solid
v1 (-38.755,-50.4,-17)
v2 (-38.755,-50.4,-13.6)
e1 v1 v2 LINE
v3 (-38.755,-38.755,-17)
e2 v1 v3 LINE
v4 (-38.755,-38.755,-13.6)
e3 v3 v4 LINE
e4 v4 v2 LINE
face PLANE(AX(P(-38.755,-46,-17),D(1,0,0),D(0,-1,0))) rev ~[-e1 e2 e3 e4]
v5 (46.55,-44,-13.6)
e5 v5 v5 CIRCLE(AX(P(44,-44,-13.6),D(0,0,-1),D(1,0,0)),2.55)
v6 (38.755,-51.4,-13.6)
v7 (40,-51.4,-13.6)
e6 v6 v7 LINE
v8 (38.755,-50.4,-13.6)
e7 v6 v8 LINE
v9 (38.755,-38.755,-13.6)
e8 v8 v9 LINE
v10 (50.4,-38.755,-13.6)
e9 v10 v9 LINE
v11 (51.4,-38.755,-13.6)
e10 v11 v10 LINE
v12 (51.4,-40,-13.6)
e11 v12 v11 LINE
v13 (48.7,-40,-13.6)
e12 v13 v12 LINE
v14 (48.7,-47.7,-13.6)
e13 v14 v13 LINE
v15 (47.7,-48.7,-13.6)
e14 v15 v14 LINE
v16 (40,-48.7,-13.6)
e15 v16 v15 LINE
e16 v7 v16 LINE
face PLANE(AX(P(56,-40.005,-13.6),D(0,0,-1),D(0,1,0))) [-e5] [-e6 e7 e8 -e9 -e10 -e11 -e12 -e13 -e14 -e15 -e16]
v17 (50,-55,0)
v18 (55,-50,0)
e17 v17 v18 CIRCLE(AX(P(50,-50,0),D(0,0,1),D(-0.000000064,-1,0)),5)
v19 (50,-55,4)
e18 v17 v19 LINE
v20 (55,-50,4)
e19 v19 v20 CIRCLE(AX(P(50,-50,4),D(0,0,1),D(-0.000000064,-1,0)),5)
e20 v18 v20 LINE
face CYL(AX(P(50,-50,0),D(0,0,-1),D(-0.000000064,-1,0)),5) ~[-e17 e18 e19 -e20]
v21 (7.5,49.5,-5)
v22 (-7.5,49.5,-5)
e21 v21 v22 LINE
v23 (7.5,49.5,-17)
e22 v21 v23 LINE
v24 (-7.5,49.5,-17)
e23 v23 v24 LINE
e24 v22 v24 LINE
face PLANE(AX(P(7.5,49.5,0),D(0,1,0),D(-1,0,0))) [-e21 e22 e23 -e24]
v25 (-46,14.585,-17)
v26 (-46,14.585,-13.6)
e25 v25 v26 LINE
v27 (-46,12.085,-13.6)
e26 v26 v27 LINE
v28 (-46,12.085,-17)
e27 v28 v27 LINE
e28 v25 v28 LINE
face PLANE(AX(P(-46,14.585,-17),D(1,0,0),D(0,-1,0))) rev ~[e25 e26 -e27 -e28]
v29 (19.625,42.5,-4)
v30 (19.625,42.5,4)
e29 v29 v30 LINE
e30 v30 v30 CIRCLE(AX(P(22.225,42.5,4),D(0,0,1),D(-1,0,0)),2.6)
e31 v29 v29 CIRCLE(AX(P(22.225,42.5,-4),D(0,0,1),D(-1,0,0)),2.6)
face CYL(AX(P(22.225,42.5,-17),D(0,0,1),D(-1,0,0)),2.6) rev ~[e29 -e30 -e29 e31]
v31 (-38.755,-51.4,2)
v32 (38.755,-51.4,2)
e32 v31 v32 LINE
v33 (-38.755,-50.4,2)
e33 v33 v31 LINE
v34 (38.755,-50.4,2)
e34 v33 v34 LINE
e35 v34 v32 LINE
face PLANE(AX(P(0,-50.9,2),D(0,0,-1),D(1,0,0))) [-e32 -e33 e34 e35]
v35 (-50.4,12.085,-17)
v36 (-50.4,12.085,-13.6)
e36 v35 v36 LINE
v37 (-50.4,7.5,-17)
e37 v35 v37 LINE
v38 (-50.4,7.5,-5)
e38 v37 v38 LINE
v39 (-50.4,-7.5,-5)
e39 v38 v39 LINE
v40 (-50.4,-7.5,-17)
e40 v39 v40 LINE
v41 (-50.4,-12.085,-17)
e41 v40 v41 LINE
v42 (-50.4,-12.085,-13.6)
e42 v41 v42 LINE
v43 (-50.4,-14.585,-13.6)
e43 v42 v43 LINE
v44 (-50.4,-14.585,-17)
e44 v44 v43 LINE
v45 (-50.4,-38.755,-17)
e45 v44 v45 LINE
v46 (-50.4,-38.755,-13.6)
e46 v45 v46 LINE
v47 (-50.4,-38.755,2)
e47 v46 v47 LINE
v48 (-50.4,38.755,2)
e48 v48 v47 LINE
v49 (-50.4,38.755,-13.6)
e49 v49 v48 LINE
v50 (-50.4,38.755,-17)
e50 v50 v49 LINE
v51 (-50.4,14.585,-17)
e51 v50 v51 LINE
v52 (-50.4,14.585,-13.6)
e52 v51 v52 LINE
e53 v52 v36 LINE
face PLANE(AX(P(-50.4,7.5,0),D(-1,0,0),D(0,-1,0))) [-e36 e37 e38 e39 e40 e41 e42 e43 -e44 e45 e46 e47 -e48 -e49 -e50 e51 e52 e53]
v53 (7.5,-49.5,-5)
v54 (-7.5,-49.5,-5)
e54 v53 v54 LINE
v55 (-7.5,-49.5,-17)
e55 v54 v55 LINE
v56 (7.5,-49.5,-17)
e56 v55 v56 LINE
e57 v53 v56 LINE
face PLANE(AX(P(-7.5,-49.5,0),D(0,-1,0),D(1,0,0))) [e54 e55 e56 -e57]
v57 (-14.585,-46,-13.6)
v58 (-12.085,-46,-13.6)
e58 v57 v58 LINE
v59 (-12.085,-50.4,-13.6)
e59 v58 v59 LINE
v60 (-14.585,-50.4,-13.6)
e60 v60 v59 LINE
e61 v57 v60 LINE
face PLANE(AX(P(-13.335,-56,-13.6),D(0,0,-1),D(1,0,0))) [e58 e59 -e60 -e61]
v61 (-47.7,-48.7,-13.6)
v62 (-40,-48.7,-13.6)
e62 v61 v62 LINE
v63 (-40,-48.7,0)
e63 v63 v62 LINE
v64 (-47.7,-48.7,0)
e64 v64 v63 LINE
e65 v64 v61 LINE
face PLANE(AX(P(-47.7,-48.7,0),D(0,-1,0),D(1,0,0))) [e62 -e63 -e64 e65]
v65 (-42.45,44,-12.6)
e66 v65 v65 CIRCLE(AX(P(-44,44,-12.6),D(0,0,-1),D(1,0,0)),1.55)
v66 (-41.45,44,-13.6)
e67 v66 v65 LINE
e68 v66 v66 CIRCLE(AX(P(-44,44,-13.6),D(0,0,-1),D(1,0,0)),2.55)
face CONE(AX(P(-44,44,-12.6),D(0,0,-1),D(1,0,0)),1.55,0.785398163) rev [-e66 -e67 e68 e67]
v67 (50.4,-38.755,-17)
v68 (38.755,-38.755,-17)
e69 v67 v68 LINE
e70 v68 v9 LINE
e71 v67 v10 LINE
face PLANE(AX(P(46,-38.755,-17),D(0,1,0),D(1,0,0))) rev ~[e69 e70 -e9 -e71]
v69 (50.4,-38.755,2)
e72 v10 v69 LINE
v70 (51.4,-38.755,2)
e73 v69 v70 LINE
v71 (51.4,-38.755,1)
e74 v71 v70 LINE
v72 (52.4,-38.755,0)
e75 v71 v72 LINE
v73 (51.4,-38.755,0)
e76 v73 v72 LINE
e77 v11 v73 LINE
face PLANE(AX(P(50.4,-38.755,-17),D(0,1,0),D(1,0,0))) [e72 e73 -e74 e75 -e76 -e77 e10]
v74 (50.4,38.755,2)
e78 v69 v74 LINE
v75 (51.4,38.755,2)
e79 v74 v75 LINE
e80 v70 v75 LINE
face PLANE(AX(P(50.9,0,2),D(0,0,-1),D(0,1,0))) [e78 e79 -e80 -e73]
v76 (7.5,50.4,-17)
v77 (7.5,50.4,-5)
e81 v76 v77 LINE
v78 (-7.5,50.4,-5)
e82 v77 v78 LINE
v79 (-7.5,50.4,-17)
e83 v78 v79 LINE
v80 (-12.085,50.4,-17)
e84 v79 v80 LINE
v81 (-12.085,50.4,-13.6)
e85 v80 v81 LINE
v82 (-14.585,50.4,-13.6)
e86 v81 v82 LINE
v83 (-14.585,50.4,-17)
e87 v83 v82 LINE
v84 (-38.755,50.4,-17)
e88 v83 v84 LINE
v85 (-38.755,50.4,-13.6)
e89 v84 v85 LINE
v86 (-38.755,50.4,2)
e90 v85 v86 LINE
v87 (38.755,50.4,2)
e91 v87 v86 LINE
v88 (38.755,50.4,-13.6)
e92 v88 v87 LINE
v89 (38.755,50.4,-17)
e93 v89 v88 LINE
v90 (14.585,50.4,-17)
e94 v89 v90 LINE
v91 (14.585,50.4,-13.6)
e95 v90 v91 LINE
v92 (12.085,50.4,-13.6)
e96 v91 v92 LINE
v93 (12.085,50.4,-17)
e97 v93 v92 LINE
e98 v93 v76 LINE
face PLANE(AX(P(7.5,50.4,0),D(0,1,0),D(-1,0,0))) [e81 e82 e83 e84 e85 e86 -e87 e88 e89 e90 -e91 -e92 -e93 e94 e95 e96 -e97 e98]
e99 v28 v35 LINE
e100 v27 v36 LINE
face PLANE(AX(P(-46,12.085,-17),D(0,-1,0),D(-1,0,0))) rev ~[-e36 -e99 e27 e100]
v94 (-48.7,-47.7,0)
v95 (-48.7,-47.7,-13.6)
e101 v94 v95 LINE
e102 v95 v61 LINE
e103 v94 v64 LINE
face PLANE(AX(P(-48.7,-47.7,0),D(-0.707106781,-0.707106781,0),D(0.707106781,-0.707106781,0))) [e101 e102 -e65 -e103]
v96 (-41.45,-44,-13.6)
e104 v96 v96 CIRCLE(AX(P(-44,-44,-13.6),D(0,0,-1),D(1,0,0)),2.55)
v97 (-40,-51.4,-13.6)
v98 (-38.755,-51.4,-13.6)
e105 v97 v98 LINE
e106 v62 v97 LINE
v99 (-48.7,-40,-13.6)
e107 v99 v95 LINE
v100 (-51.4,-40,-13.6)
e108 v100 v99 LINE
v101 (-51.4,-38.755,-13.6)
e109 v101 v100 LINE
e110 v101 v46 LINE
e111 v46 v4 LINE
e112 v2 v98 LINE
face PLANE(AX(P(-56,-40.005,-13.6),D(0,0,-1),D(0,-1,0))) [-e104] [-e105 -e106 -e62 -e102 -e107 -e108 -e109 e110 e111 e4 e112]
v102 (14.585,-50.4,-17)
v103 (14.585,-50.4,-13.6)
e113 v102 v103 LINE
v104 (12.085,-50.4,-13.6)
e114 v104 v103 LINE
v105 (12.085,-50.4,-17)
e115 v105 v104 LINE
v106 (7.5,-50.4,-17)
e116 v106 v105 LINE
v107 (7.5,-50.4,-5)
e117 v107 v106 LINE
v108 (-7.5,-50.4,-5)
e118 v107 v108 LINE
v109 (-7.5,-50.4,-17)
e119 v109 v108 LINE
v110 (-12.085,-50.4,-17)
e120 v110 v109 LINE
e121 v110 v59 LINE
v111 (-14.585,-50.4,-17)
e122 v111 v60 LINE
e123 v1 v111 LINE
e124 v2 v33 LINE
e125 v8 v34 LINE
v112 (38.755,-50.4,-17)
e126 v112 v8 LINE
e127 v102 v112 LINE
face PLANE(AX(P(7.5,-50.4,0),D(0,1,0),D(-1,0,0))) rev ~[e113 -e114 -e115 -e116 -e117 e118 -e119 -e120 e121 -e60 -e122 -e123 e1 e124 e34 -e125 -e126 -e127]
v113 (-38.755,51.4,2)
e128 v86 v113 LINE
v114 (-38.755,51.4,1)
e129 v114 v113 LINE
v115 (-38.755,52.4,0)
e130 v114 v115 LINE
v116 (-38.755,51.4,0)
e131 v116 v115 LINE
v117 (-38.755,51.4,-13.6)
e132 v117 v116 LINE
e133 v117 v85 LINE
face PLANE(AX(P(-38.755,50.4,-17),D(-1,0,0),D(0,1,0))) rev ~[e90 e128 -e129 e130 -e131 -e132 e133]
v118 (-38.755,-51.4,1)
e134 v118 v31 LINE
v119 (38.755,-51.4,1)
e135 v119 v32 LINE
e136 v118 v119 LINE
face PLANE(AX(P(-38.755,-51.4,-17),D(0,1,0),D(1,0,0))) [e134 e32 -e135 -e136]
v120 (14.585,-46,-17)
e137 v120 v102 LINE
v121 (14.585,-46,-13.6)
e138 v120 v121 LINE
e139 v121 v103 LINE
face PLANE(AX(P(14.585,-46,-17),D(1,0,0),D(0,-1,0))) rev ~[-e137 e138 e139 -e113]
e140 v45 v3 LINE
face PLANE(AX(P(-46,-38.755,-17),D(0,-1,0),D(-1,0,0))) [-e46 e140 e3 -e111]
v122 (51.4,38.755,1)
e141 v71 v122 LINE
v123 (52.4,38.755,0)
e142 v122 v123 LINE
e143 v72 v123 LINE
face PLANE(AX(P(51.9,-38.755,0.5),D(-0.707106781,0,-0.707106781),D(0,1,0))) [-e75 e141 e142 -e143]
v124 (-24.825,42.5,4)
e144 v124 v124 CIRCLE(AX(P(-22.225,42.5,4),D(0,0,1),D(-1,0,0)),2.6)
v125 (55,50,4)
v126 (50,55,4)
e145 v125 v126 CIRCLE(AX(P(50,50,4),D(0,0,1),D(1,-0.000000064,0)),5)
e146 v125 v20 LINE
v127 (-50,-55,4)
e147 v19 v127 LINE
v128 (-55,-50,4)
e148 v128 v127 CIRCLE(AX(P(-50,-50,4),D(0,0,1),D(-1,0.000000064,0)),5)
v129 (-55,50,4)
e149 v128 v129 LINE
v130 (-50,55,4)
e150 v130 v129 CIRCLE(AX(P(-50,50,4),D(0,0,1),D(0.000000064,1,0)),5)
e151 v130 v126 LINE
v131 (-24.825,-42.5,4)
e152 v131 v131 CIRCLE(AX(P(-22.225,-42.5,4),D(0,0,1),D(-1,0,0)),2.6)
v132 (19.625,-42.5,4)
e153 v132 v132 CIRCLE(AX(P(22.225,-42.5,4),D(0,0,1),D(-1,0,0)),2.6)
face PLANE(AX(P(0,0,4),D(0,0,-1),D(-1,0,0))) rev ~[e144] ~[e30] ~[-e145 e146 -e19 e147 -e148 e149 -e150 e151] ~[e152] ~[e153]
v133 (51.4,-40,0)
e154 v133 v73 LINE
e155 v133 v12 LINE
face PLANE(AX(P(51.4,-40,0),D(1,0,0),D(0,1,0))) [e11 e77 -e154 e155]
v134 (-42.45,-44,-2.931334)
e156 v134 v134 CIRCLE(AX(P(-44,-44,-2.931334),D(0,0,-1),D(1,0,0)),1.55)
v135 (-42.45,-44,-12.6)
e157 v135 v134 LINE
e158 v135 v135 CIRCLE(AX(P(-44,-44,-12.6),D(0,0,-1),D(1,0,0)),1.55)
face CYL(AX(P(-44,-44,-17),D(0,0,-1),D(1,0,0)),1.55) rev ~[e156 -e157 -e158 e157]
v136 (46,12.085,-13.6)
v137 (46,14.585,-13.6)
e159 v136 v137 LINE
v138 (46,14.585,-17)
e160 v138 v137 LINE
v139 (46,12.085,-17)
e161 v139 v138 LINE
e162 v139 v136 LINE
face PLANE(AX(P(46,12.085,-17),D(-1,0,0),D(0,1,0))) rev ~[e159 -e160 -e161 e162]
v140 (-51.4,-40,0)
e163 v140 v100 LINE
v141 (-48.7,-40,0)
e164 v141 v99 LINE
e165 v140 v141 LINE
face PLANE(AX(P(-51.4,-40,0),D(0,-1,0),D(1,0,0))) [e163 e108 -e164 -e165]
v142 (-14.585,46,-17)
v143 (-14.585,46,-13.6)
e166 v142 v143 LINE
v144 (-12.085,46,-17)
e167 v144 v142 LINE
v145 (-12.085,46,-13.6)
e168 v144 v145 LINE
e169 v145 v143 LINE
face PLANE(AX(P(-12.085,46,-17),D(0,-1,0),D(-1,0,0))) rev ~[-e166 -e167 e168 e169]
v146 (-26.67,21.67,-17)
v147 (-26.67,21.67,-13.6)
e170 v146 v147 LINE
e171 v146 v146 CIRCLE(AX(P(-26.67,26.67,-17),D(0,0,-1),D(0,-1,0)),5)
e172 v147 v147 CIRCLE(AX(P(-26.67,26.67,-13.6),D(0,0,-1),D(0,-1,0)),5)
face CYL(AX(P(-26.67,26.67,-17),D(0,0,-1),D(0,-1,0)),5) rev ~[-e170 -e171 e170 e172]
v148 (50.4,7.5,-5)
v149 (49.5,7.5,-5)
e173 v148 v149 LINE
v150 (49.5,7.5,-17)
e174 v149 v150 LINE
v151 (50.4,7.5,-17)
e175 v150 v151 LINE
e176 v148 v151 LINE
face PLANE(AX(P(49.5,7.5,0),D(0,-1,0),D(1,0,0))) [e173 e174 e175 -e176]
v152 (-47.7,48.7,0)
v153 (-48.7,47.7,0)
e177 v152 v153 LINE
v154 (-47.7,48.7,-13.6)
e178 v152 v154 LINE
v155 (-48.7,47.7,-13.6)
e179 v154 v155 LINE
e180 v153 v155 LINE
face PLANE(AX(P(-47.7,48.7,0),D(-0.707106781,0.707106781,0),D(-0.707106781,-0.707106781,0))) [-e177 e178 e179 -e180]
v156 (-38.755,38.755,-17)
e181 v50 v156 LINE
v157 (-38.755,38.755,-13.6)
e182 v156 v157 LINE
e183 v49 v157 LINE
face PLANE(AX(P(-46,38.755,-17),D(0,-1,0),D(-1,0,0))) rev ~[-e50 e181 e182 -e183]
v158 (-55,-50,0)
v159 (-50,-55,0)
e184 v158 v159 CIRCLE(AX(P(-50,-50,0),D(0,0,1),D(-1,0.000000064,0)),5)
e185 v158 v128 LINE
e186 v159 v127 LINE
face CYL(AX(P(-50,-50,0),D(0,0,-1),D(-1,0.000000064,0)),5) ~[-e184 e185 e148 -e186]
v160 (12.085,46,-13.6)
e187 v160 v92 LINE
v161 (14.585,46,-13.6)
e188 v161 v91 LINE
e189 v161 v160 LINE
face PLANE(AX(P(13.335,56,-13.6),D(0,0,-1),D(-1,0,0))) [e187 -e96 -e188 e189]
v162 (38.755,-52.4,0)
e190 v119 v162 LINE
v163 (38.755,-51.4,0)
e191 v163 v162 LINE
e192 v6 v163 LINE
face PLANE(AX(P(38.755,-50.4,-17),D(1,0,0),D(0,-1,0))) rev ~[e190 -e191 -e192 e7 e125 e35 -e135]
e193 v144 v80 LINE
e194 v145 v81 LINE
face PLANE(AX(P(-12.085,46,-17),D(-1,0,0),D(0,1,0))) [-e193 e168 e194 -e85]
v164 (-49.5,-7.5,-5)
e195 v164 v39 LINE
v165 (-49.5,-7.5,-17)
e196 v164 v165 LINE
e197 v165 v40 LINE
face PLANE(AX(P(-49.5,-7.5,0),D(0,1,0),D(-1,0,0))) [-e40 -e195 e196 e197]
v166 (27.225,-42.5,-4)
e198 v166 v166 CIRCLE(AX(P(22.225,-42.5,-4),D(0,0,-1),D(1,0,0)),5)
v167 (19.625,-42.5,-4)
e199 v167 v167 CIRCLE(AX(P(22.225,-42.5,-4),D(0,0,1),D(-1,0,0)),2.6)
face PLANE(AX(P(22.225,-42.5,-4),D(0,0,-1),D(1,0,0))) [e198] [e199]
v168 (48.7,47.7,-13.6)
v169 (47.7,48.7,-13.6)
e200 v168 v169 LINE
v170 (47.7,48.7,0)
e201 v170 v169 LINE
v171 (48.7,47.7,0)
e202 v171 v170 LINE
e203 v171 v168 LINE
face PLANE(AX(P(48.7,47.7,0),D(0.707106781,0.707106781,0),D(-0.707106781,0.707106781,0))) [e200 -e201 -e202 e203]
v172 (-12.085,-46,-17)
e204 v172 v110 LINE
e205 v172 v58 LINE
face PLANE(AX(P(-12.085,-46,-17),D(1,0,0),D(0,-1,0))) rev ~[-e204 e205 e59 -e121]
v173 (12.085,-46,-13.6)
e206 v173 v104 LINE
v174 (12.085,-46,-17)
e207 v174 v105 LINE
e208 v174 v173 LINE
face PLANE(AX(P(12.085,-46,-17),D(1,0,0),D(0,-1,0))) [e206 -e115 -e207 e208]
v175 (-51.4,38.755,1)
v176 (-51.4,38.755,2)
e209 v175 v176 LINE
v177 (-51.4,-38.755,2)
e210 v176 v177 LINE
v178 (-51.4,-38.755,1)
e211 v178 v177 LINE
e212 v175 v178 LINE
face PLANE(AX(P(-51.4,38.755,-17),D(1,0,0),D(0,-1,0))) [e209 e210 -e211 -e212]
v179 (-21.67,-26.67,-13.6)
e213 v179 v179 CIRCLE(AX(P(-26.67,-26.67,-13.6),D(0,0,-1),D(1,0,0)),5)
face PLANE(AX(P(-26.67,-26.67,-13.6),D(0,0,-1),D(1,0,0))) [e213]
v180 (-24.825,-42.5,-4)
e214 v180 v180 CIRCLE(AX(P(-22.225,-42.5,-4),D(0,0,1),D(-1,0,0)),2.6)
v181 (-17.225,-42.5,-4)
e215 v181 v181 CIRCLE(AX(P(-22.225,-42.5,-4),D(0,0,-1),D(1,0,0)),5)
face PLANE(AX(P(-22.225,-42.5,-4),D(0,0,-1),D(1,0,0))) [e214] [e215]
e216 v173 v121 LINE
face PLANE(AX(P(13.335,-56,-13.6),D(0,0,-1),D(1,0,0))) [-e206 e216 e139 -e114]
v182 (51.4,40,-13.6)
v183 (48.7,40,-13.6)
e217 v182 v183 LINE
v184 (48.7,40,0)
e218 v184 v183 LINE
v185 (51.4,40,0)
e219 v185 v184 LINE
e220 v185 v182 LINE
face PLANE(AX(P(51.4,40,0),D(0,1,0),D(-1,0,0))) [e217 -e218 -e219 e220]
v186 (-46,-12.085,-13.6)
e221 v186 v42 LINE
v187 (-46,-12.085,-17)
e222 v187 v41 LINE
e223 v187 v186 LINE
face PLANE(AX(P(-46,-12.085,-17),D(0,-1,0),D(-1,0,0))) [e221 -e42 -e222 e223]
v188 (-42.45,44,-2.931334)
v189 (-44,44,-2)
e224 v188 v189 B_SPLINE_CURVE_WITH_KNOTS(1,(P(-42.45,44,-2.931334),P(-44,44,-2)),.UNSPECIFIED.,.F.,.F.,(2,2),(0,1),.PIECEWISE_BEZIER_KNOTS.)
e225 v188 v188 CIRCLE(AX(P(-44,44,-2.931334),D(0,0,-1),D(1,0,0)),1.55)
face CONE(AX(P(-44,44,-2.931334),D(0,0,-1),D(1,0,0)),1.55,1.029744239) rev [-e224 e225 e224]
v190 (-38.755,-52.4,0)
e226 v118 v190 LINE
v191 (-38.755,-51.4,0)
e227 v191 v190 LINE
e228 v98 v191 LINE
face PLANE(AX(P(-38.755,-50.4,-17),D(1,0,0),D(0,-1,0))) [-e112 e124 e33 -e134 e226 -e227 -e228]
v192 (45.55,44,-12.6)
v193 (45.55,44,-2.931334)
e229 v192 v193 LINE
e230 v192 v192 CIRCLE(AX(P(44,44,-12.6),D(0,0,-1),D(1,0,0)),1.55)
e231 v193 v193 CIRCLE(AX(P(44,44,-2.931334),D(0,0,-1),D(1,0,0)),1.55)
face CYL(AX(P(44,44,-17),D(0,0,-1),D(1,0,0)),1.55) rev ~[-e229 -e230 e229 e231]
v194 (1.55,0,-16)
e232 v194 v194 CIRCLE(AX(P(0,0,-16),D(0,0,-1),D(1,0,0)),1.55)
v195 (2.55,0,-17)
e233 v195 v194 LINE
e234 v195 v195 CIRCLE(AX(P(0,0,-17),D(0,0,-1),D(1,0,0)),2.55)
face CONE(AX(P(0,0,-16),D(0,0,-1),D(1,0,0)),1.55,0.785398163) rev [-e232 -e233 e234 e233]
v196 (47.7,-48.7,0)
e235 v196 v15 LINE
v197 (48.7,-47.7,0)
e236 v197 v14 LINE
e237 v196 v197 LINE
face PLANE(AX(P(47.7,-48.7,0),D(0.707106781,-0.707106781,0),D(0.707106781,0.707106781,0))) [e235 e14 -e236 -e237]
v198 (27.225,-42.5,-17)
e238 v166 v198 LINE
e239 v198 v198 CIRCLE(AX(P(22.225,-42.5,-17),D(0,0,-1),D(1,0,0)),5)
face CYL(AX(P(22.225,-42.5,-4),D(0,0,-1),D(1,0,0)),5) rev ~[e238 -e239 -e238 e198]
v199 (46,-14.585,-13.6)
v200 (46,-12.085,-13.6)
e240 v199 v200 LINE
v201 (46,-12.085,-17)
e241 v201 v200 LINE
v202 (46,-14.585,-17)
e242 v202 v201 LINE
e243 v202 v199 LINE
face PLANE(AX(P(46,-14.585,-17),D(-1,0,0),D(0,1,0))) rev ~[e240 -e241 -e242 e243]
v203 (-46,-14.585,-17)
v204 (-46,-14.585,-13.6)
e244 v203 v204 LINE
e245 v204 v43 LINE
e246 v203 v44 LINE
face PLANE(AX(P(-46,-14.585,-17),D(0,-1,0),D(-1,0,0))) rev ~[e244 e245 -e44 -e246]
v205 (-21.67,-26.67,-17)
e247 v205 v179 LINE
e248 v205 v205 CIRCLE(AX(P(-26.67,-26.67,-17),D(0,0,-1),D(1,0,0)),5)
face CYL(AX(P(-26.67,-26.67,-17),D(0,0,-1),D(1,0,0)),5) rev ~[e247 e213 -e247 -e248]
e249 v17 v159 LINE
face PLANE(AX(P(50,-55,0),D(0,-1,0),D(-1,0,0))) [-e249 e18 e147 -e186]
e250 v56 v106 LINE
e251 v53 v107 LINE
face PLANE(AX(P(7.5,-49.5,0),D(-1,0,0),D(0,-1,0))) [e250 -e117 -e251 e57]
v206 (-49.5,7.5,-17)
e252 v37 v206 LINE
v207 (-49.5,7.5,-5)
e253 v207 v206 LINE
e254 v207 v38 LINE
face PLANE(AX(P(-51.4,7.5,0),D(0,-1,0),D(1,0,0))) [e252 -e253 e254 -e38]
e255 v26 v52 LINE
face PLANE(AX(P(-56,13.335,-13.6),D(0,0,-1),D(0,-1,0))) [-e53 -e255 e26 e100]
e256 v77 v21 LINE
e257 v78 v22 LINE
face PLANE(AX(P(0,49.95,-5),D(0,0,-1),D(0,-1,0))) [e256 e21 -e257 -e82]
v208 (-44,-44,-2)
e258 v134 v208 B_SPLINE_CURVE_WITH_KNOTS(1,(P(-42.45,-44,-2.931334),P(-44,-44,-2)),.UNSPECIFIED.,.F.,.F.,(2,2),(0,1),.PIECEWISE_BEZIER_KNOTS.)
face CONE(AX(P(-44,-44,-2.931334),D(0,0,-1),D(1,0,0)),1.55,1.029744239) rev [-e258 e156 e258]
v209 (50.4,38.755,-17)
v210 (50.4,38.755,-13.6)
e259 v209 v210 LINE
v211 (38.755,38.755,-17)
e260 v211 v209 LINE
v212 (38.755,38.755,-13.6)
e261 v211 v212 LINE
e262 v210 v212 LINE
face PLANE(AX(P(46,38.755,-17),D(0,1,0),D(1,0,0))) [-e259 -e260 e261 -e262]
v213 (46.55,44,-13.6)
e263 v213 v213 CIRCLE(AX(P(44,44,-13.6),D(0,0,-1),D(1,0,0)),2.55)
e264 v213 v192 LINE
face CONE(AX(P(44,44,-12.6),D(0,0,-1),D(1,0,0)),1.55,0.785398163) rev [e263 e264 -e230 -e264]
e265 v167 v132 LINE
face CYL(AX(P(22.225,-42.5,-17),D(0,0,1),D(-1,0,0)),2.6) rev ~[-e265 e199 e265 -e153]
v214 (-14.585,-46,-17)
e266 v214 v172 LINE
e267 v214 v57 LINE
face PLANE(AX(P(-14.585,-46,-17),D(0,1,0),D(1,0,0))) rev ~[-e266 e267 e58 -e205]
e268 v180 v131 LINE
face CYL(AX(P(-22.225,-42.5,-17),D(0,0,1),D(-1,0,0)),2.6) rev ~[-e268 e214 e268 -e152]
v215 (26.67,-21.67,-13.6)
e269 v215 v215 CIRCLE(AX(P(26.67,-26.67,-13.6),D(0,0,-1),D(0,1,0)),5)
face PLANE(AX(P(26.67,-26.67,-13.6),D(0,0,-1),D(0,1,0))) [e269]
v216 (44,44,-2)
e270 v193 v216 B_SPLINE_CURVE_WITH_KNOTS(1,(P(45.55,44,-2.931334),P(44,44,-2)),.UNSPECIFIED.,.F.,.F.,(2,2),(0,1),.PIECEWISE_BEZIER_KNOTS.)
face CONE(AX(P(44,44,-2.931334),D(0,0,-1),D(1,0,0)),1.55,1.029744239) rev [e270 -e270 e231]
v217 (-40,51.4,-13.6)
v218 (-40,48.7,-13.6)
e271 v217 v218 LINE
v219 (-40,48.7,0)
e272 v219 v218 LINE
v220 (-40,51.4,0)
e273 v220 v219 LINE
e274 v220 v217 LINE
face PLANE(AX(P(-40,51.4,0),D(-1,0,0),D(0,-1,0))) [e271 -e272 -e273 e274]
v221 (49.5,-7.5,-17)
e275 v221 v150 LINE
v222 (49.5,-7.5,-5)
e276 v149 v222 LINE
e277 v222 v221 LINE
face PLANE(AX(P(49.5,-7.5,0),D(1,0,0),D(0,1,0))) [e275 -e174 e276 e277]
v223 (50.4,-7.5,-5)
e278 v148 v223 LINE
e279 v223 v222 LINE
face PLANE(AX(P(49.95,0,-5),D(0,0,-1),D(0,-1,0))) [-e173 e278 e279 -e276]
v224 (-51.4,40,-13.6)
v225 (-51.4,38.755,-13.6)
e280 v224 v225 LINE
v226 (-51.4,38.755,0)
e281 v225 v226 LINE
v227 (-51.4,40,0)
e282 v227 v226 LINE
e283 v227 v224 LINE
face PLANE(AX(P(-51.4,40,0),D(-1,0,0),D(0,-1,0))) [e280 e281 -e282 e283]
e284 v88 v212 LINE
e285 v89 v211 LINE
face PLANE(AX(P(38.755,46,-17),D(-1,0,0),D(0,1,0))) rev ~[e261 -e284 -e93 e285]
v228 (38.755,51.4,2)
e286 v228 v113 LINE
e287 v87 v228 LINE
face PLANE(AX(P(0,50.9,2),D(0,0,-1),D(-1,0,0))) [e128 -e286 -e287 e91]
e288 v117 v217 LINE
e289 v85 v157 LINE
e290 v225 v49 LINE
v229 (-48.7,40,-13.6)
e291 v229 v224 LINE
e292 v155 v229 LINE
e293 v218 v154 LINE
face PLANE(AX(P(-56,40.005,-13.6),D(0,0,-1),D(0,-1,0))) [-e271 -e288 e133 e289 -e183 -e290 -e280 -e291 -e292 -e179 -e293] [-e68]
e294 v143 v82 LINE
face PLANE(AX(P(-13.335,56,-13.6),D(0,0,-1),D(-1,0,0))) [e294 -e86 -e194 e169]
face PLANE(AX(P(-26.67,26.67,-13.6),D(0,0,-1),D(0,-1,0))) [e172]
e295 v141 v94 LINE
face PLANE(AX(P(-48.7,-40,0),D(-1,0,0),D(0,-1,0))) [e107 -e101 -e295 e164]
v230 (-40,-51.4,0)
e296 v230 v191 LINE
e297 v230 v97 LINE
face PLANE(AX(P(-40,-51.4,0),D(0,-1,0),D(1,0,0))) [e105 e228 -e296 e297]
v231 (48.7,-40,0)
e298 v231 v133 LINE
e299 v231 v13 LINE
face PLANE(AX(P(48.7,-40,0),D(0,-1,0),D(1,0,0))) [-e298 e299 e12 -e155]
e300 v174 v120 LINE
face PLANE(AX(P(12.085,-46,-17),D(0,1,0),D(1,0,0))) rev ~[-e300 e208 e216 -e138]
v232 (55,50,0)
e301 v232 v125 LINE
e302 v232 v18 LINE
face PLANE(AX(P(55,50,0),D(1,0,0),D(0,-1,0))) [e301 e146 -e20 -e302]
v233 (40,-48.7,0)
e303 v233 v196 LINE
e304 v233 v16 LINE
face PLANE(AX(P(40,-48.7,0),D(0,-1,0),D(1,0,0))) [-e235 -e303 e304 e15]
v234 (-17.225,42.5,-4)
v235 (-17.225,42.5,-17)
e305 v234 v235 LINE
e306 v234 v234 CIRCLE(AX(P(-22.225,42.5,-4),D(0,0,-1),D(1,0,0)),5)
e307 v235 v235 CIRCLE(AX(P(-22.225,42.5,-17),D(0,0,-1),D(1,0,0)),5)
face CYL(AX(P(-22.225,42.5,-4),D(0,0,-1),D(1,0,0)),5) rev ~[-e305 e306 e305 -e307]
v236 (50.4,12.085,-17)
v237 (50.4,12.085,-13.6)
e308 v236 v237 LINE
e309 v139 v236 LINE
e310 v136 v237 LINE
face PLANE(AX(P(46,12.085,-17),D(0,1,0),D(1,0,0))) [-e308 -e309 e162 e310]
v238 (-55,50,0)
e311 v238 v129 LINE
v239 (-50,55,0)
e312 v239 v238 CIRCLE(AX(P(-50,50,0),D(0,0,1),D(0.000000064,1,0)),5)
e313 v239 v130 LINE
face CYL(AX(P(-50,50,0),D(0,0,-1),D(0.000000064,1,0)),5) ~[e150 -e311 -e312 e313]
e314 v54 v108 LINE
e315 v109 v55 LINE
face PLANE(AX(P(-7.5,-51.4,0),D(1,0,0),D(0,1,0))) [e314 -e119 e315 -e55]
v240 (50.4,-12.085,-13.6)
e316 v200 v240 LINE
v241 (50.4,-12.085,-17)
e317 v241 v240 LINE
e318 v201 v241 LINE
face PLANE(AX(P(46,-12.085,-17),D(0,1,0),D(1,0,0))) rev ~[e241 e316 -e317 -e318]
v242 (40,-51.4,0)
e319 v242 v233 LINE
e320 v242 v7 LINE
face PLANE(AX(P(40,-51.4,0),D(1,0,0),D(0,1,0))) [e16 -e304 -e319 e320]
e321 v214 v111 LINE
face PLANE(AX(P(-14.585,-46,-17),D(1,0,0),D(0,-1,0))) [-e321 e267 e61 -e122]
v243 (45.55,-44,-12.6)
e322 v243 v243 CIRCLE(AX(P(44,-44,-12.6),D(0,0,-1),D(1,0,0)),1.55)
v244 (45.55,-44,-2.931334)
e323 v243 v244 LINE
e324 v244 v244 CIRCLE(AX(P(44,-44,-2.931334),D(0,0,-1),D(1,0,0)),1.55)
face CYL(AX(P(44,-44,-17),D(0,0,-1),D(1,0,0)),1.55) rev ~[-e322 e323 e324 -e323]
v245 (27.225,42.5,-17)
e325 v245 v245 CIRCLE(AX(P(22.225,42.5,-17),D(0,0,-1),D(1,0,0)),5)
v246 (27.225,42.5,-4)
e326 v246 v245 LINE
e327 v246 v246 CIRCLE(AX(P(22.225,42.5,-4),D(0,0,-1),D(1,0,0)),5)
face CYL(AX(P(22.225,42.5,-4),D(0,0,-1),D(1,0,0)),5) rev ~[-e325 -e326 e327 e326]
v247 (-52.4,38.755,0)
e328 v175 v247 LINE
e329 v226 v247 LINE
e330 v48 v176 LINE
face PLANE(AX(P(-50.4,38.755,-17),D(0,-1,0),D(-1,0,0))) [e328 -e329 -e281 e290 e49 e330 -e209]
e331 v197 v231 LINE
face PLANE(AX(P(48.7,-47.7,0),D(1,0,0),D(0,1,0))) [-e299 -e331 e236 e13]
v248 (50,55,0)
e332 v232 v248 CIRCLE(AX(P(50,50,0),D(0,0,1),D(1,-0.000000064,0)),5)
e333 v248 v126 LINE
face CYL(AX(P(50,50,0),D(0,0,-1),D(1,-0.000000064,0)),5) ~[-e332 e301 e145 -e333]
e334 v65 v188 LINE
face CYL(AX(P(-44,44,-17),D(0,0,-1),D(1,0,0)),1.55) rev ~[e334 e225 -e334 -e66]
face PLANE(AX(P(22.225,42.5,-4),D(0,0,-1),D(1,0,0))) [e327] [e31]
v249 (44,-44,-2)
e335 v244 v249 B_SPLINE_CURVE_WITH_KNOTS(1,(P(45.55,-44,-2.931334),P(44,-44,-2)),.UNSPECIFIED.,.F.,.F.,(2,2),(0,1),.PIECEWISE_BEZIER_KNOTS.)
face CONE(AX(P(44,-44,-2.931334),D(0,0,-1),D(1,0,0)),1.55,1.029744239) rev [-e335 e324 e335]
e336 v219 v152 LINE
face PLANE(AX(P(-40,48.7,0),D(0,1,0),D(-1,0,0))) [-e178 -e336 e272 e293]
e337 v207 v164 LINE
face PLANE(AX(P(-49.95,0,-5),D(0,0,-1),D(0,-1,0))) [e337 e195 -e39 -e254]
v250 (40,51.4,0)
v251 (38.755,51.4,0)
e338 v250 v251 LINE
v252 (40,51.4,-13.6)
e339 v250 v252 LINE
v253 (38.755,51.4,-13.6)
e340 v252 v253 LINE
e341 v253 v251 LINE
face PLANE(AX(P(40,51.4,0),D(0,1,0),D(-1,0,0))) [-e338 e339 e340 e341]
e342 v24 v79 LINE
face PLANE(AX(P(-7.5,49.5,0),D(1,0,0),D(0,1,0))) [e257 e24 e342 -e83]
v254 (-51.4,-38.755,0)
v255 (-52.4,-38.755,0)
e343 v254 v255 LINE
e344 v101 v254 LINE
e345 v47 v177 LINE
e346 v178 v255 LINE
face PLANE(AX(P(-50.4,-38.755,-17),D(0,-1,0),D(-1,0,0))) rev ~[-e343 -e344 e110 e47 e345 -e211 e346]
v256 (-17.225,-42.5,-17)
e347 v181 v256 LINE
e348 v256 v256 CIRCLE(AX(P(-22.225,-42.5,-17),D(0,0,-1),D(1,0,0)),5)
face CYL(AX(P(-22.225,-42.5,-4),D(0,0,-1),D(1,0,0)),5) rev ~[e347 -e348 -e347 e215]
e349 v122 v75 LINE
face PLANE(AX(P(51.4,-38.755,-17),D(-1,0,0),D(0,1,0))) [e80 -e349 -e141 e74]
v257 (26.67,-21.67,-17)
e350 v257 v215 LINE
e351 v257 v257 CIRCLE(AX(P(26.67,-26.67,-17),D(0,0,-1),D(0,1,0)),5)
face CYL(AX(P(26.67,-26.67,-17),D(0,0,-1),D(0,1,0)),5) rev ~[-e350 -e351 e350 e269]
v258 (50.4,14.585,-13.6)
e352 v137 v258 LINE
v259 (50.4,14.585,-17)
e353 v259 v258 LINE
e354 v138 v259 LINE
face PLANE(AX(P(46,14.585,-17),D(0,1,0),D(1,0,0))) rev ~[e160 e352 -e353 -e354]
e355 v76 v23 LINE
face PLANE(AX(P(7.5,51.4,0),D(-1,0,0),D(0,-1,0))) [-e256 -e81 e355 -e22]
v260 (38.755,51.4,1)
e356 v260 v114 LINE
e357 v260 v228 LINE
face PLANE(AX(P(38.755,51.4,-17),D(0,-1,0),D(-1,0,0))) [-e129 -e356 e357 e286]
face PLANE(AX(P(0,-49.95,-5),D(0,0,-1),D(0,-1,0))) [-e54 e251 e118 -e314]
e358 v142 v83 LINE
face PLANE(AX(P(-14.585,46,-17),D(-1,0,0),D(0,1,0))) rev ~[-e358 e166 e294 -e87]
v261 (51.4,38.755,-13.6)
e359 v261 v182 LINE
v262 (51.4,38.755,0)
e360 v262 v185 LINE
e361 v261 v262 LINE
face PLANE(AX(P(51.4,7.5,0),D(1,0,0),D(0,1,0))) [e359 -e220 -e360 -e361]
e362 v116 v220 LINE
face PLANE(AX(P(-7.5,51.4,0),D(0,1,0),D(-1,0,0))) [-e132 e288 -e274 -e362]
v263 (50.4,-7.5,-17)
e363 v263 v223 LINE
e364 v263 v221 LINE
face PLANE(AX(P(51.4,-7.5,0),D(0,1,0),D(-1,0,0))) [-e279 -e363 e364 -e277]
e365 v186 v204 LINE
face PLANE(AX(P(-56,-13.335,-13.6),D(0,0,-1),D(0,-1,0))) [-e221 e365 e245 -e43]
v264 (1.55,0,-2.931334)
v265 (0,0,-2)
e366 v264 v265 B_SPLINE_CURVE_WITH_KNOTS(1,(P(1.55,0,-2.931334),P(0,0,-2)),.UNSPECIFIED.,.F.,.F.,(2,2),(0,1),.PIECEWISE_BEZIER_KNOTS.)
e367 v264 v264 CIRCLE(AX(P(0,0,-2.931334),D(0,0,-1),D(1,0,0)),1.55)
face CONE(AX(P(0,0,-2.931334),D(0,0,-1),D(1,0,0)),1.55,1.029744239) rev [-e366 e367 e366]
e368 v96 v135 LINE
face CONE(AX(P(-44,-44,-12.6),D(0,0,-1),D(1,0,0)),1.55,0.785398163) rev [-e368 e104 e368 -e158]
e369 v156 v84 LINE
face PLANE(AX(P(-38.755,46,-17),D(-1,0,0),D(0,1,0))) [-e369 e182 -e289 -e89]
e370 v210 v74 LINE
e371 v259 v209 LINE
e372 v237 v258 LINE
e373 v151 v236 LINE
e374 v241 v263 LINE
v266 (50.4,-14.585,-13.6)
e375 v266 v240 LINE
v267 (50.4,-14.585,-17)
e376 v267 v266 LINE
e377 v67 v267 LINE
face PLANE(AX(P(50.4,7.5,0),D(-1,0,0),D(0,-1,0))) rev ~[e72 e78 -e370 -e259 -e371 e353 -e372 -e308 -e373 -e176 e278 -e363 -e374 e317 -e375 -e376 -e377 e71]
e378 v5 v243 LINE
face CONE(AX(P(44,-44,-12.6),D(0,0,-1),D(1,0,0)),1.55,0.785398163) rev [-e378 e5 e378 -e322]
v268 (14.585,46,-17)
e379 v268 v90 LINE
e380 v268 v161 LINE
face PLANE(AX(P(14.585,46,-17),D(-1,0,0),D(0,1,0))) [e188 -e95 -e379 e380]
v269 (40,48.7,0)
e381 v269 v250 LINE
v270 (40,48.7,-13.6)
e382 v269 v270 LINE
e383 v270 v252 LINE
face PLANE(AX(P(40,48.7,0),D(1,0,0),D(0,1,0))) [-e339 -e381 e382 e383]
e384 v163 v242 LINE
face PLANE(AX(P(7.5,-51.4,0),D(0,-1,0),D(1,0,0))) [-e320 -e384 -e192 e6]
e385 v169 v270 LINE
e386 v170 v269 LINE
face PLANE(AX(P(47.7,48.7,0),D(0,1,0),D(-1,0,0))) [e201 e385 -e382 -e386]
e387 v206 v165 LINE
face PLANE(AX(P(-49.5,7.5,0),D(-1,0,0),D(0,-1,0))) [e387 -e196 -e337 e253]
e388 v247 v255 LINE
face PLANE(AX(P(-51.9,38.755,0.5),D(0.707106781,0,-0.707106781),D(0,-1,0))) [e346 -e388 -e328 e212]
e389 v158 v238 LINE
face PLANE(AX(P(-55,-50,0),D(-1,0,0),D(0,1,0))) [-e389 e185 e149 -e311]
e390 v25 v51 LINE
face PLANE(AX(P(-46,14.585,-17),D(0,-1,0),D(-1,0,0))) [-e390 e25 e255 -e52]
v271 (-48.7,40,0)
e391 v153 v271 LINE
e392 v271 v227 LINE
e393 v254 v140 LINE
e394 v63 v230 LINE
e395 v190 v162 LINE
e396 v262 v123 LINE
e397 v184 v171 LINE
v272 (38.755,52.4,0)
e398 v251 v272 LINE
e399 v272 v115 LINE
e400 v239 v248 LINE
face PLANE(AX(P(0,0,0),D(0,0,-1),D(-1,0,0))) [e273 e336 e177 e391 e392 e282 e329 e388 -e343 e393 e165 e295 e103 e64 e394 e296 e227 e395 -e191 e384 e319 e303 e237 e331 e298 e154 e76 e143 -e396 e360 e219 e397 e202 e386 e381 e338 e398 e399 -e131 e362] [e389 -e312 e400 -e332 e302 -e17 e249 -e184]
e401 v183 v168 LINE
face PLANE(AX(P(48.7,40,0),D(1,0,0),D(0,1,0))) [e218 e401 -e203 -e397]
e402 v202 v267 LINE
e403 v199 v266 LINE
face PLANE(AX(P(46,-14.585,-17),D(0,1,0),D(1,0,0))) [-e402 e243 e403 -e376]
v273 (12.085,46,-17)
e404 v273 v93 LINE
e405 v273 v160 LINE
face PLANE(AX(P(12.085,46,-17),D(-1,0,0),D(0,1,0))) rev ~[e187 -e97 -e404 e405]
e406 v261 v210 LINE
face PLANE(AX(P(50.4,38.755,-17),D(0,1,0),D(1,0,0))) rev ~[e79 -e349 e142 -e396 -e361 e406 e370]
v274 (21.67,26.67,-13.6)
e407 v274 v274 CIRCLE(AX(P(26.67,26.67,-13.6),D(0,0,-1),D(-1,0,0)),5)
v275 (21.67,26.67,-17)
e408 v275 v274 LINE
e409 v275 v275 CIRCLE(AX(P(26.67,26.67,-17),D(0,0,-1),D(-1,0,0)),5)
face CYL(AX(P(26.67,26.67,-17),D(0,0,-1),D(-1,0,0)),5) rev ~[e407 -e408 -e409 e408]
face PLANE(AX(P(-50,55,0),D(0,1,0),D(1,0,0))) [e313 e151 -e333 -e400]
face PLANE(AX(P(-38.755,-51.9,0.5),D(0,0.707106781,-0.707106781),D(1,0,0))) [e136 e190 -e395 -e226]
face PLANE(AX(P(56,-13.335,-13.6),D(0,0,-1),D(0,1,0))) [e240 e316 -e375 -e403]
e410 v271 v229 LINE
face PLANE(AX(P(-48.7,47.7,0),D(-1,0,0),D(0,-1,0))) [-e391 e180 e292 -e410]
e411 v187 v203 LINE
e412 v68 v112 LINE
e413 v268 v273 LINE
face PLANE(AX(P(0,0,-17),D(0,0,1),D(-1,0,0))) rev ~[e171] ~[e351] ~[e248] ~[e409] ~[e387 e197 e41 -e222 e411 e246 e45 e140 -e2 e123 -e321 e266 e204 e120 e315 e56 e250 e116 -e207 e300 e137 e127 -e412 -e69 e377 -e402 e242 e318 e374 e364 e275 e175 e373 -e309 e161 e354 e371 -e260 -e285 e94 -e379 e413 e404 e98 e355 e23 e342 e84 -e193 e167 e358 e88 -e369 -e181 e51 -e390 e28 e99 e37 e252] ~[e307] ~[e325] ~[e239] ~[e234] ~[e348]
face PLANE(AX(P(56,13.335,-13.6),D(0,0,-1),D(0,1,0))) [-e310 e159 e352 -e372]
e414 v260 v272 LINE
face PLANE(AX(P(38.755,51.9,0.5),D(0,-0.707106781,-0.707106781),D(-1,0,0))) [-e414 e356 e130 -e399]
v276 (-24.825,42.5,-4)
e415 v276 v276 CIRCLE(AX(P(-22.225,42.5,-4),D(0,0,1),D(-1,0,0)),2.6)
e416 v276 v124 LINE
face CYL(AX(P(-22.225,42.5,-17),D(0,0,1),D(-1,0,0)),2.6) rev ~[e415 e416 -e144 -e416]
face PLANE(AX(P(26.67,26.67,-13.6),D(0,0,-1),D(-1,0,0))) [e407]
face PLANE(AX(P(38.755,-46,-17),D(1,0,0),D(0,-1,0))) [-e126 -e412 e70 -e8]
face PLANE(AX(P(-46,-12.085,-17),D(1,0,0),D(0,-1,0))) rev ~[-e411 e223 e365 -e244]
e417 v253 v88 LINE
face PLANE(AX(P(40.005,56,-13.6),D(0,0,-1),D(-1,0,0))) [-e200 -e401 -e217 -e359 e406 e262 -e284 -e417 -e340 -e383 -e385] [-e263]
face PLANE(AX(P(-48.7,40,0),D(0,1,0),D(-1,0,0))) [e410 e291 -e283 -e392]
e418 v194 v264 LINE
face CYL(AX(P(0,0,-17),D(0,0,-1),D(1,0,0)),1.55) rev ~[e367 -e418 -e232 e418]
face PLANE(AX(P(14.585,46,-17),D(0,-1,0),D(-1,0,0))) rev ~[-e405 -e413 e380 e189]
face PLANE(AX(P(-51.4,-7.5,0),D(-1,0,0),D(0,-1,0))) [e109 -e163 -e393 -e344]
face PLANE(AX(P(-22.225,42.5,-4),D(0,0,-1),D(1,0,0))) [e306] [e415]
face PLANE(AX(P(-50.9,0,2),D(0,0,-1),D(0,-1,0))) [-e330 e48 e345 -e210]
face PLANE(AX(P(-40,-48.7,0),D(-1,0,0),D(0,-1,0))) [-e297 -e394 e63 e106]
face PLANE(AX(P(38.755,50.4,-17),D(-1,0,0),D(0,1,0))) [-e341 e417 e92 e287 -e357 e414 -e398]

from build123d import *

# Parameters (mm, degrees)
PAD_DEPTH             = 4
PAD001_DEPTH          = 17
SKETCH002_W           = 2.5
SKETCH002_H           = 20
POCKET_DEPTH          = 3.4
POLARPATTERN_COUNT    = 4
SKETCH003_R           = 5
SKETCH003_W           = 44.642272
SKETCH003_H           = 44.642272
POCKET001_DEPTH       = 3.4
POLARPATTERN001_COUNT = 4
HOLE_D                = 5.2
HOLE_CBORE_D          = 10
HOLE_CBORE_DEPTH      = 13
SKETCH005_W           = 77.51
SKETCH005_H           = 1
POCKET002_DEPTH       = 19
POLARPATTERN002_COUNT = 4
CHAMFER_SIZE          = 1
SKETCH006_R           = 1.55
HOLE001_DEPTH         = 14.068666
HOLE001_TIPS_R        = 1.55
CHAMFER001_SIZE       = 1
CHAMFER001_FACE140_W  = 0.9
CHAMFER001_FACE140_H  = 15
PAD002_DEPTH          = 5
PAD002_FACE143_W      = 15
PAD002_FACE143_H      = 0.9
PAD003_DEPTH          = 5
PAD003_FACE75_W       = 15
PAD003_FACE75_H       = 0.9
PAD004_DEPTH          = 5
PAD004_FACE128_W      = 0.9
PAD004_FACE128_H      = 15
PAD005_DEPTH          = 5


with BuildPart() as part:
    # Sketch → Pad (new body)
    with BuildSketch(Plane.XY):
        with BuildLine():
            Line((-50, 55), (50, 55))
            ThreePointArc((55, 50), (53.535534, 53.535534), (50, 55))
            Line((55, 50), (55, -50))
            ThreePointArc((50, -55), (53.535534, -53.535534), (55, -50))
            Line((50, -55), (-50, -55))
            ThreePointArc((-55, -50), (-53.535534, -53.535534), (-50, -55))
            Line((-55, -50), (-55, 50))
            ThreePointArc((-50, 55), (-53.535534, 53.535534), (-55, 50))
        make_face()
    extrude(amount=PAD_DEPTH)

    # Sketch001 (on Face9 of Pad) → Pad001 (join)
    with BuildSketch(Plane(origin=(0, 0, 0), x_dir=(1, 0, 0), z_dir=(0, 0, -1))):
        Polygon((-51.4, 40), (-48.7, 40), (-48.7, 47.7), (-47.7, 48.7), (-40, 48.7), (-40, 51.4), (-7.5, 51.4), (-7.5, 49.5), (7.5, 49.5), (7.5, 51.4), (40, 51.4), (40, 48.7), (47.7, 48.7), (48.7, 47.7), (48.7, 40), (51.4, 40), (51.4, 7.5), (49.5, 7.5), (49.5, -7.5), (51.4, -7.5), (51.4, -40), (48.7, -40), (48.7, -47.7), (47.7, -48.7), (40, -48.7), (40, -51.4), (7.5, -51.4), (7.5, -49.5), (-7.5, -49.5), (-7.5, -51.4), (-40, -51.4), (-40, -48.7), (-47.7, -48.7), (-48.7, -47.7), (-48.7, -40), (-51.4, -40), (-51.4, -7.5), (-49.5, -7.5), (-49.5, 7.5), (-51.4, 7.5), align=None)
    extrude(amount=PAD001_DEPTH)

    # Sketch002 (on Face51 of Pad001) → Pocket (cut)
    with BuildSketch(Plane(origin=(0, 0, -17), x_dir=(1, 0, 0), z_dir=(0, 0, -1))):
        with Locations((-40.005, 56)):
            Rectangle(SKETCH002_W, SKETCH002_H)
        with Locations((-13.335, 56)):
            Rectangle(SKETCH002_W, SKETCH002_H)
        with Locations((13.335, 56)):
            Rectangle(SKETCH002_W, SKETCH002_H)
        with Locations((40.005, 56)):
            Rectangle(SKETCH002_W, SKETCH002_H)
    pocket = extrude(amount=-POCKET_DEPTH, mode=Mode.SUBTRACT)

    # PolarPattern: Pocket ×4 about axis
    polarpattern_axis = Axis((0, 0, 0), (0, 0, 1))
    for i in range(1, POLARPATTERN_COUNT):
        add(pocket.rotate(polarpattern_axis, i * 360 / POLARPATTERN_COUNT), mode=Mode.SUBTRACT)

    # Sketch003 (on Face52 of PolarPattern) → Pocket001 (cut)
    with BuildSketch(Plane(origin=(0, 0, -17), x_dir=(1, 0, 0), z_dir=(0, 0, -1))):
        with Locations((-26.67, 26.67)):
            Circle(SKETCH003_R)
        with Locations((-61.076136, 61.076136)):
            Rectangle(SKETCH003_W, SKETCH003_H)
    pocket001 = extrude(amount=-POCKET001_DEPTH, mode=Mode.SUBTRACT)

    # PolarPattern001: Pocket001 ×4 about axis
    polarpattern001_axis = Axis((0, 0, 0), (0, 0, 1))
    for i in range(1, POLARPATTERN001_COUNT):
        add(pocket001.rotate(polarpattern001_axis, i * 360 / POLARPATTERN001_COUNT), mode=Mode.SUBTRACT)

    # Hole (through all)
    with Locations(Plane(origin=(0, 0, -17), x_dir=(1, 0, 0), z_dir=(0, 0, -1))):
        with Locations((-22.225, 42.5), (22.225, 42.5), (22.225, -42.5), (-22.225, -42.5)):
            CounterBoreHole(HOLE_D / 2, HOLE_CBORE_D / 2, HOLE_CBORE_DEPTH)

    # Sketch005 (on Face56 of Hole) → Pocket002 (cut)
    with BuildSketch(Plane(origin=(0, 0, -17), x_dir=(1, 0, 0), z_dir=(0, 0, -1))):
        with Locations((0, 50.9)):
            Rectangle(SKETCH005_W, SKETCH005_H)
    pocket002 = extrude(amount=-POCKET002_DEPTH, mode=Mode.SUBTRACT)

    # PolarPattern002: Pocket002 ×4 about axis
    polarpattern002_axis = Axis((0, 0, 0), (0, 0, 1))
    for i in range(1, POLARPATTERN002_COUNT):
        add(pocket002.rotate(polarpattern002_axis, i * 360 / POLARPATTERN002_COUNT), mode=Mode.SUBTRACT)

    # Chamfer
    chamfer_edges = [part.edges().sort_by_distance(p)[0] for p in [
        (51.4, 0, 0),
        (0, -51.4, 0),
        (-51.4, 0, 0),
        (0, 51.4, 0),
    ]]
    chamfer(chamfer_edges, length=CHAMFER_SIZE)

    # Sketch006 (on Face75 of Chamfer) → Hole001 (cut)
    with BuildSketch(Plane(origin=(0, 0, -17), x_dir=(1, 0, 0), z_dir=(0, 0, -1))):
        with Locations((-44, 44)):
            Circle(SKETCH006_R)
        with Locations((44, 44)):
            Circle(SKETCH006_R)
        with Locations((44, -44)):
            Circle(SKETCH006_R)
        with Locations((-44, -44)):
            Circle(SKETCH006_R)
        Circle(SKETCH006_R)
    extrude(amount=-HOLE001_DEPTH, mode=Mode.SUBTRACT)

    # Hole001 tips → Hole001 tip 1 section 0
    with BuildSketch(Plane(origin=(0, 0, -2.931334), x_dir=(1, 0, 0), z_dir=(0, 0, -1)), mode=Mode.PRIVATE) as hole001_tip_1_s0:
        with Locations((-44, 44)):
            Circle(HOLE001_TIPS_R)
    loft([hole001_tip_1_s0.sketch, Vertex(-44, -44, -2)], mode=Mode.SUBTRACT)

    # Hole001 tips → Hole001 tip 2 section 0
    with BuildSketch(Plane(origin=(0, 0, -2.931334), x_dir=(1, 0, 0), z_dir=(0, 0, -1)), mode=Mode.PRIVATE) as hole001_tip_2_s0:
        with Locations((44, 44)):
            Circle(HOLE001_TIPS_R)
    loft([hole001_tip_2_s0.sketch, Vertex(44, -44, -2)], mode=Mode.SUBTRACT)

    # Hole001 tips → Hole001 tip 3 section 0
    with BuildSketch(Plane(origin=(0, 0, -2.931334), x_dir=(1, 0, 0), z_dir=(0, 0, -1)), mode=Mode.PRIVATE) as hole001_tip_3_s0:
        with Locations((44, -44)):
            Circle(HOLE001_TIPS_R)
    loft([hole001_tip_3_s0.sketch, Vertex(44, 44, -2)], mode=Mode.SUBTRACT)

    # Hole001 tips → Hole001 tip 4 section 0
    with BuildSketch(Plane(origin=(0, 0, -2.931334), x_dir=(1, 0, 0), z_dir=(0, 0, -1)), mode=Mode.PRIVATE) as hole001_tip_4_s0:
        with Locations((-44, -44)):
            Circle(HOLE001_TIPS_R)
    loft([hole001_tip_4_s0.sketch, Vertex(-44, 44, -2)], mode=Mode.SUBTRACT)

    # Hole001 tips → Hole001 tip 5 section 0
    with BuildSketch(Plane(origin=(0, 0, -2.931334), x_dir=(1, 0, 0), z_dir=(0, 0, -1)), mode=Mode.PRIVATE) as hole001_tip_5_s0:
        Circle(HOLE001_TIPS_R)
    loft([hole001_tip_5_s0.sketch, Vertex(0, 0, -2)], mode=Mode.SUBTRACT)

    # Chamfer001
    chamfer001_edges = [part.edges().sort_by_distance(p)[0] for p in [
        (1.55, 0, -17),
        (-42.45, 44, -13.6),
        (-42.45, -44, -13.6),
        (45.55, 44, -13.6),
        (45.55, -44, -13.6),
    ]]
    chamfer(chamfer001_edges, length=CHAMFER001_SIZE)

    # Chamfer001 Face140 → Pad002 (add)
    with BuildSketch(Plane(origin=(0, 49.95, 0), x_dir=(0, -1, 0), z_dir=(0, 0, -1))):
        Rectangle(CHAMFER001_FACE140_W, CHAMFER001_FACE140_H)
    extrude(amount=PAD002_DEPTH)

    # Pad002 Face143 → Pad003 (add)
    with BuildSketch(Plane(origin=(-49.95, 0, 0), x_dir=(0, -1, 0), z_dir=(0, 0, -1))):
        Rectangle(PAD002_FACE143_W, PAD002_FACE143_H)
    extrude(amount=PAD003_DEPTH)

    # Pad003 Face75 → Pad004 (add)
    with BuildSketch(Plane(origin=(49.95, 0, 0), x_dir=(0, -1, 0), z_dir=(0, 0, -1))):
        Rectangle(PAD003_FACE75_W, PAD003_FACE75_H)
    extrude(amount=PAD004_DEPTH)

    # Pad004 Face128 → Pad005 (add)
    with BuildSketch(Plane(origin=(0, -49.95, 0), x_dir=(0, -1, 0), z_dir=(0, 0, -1))):
        Rectangle(PAD004_FACE128_W, PAD004_FACE128_H)
    extrude(amount=PAD005_DEPTH)


solid = part.part
